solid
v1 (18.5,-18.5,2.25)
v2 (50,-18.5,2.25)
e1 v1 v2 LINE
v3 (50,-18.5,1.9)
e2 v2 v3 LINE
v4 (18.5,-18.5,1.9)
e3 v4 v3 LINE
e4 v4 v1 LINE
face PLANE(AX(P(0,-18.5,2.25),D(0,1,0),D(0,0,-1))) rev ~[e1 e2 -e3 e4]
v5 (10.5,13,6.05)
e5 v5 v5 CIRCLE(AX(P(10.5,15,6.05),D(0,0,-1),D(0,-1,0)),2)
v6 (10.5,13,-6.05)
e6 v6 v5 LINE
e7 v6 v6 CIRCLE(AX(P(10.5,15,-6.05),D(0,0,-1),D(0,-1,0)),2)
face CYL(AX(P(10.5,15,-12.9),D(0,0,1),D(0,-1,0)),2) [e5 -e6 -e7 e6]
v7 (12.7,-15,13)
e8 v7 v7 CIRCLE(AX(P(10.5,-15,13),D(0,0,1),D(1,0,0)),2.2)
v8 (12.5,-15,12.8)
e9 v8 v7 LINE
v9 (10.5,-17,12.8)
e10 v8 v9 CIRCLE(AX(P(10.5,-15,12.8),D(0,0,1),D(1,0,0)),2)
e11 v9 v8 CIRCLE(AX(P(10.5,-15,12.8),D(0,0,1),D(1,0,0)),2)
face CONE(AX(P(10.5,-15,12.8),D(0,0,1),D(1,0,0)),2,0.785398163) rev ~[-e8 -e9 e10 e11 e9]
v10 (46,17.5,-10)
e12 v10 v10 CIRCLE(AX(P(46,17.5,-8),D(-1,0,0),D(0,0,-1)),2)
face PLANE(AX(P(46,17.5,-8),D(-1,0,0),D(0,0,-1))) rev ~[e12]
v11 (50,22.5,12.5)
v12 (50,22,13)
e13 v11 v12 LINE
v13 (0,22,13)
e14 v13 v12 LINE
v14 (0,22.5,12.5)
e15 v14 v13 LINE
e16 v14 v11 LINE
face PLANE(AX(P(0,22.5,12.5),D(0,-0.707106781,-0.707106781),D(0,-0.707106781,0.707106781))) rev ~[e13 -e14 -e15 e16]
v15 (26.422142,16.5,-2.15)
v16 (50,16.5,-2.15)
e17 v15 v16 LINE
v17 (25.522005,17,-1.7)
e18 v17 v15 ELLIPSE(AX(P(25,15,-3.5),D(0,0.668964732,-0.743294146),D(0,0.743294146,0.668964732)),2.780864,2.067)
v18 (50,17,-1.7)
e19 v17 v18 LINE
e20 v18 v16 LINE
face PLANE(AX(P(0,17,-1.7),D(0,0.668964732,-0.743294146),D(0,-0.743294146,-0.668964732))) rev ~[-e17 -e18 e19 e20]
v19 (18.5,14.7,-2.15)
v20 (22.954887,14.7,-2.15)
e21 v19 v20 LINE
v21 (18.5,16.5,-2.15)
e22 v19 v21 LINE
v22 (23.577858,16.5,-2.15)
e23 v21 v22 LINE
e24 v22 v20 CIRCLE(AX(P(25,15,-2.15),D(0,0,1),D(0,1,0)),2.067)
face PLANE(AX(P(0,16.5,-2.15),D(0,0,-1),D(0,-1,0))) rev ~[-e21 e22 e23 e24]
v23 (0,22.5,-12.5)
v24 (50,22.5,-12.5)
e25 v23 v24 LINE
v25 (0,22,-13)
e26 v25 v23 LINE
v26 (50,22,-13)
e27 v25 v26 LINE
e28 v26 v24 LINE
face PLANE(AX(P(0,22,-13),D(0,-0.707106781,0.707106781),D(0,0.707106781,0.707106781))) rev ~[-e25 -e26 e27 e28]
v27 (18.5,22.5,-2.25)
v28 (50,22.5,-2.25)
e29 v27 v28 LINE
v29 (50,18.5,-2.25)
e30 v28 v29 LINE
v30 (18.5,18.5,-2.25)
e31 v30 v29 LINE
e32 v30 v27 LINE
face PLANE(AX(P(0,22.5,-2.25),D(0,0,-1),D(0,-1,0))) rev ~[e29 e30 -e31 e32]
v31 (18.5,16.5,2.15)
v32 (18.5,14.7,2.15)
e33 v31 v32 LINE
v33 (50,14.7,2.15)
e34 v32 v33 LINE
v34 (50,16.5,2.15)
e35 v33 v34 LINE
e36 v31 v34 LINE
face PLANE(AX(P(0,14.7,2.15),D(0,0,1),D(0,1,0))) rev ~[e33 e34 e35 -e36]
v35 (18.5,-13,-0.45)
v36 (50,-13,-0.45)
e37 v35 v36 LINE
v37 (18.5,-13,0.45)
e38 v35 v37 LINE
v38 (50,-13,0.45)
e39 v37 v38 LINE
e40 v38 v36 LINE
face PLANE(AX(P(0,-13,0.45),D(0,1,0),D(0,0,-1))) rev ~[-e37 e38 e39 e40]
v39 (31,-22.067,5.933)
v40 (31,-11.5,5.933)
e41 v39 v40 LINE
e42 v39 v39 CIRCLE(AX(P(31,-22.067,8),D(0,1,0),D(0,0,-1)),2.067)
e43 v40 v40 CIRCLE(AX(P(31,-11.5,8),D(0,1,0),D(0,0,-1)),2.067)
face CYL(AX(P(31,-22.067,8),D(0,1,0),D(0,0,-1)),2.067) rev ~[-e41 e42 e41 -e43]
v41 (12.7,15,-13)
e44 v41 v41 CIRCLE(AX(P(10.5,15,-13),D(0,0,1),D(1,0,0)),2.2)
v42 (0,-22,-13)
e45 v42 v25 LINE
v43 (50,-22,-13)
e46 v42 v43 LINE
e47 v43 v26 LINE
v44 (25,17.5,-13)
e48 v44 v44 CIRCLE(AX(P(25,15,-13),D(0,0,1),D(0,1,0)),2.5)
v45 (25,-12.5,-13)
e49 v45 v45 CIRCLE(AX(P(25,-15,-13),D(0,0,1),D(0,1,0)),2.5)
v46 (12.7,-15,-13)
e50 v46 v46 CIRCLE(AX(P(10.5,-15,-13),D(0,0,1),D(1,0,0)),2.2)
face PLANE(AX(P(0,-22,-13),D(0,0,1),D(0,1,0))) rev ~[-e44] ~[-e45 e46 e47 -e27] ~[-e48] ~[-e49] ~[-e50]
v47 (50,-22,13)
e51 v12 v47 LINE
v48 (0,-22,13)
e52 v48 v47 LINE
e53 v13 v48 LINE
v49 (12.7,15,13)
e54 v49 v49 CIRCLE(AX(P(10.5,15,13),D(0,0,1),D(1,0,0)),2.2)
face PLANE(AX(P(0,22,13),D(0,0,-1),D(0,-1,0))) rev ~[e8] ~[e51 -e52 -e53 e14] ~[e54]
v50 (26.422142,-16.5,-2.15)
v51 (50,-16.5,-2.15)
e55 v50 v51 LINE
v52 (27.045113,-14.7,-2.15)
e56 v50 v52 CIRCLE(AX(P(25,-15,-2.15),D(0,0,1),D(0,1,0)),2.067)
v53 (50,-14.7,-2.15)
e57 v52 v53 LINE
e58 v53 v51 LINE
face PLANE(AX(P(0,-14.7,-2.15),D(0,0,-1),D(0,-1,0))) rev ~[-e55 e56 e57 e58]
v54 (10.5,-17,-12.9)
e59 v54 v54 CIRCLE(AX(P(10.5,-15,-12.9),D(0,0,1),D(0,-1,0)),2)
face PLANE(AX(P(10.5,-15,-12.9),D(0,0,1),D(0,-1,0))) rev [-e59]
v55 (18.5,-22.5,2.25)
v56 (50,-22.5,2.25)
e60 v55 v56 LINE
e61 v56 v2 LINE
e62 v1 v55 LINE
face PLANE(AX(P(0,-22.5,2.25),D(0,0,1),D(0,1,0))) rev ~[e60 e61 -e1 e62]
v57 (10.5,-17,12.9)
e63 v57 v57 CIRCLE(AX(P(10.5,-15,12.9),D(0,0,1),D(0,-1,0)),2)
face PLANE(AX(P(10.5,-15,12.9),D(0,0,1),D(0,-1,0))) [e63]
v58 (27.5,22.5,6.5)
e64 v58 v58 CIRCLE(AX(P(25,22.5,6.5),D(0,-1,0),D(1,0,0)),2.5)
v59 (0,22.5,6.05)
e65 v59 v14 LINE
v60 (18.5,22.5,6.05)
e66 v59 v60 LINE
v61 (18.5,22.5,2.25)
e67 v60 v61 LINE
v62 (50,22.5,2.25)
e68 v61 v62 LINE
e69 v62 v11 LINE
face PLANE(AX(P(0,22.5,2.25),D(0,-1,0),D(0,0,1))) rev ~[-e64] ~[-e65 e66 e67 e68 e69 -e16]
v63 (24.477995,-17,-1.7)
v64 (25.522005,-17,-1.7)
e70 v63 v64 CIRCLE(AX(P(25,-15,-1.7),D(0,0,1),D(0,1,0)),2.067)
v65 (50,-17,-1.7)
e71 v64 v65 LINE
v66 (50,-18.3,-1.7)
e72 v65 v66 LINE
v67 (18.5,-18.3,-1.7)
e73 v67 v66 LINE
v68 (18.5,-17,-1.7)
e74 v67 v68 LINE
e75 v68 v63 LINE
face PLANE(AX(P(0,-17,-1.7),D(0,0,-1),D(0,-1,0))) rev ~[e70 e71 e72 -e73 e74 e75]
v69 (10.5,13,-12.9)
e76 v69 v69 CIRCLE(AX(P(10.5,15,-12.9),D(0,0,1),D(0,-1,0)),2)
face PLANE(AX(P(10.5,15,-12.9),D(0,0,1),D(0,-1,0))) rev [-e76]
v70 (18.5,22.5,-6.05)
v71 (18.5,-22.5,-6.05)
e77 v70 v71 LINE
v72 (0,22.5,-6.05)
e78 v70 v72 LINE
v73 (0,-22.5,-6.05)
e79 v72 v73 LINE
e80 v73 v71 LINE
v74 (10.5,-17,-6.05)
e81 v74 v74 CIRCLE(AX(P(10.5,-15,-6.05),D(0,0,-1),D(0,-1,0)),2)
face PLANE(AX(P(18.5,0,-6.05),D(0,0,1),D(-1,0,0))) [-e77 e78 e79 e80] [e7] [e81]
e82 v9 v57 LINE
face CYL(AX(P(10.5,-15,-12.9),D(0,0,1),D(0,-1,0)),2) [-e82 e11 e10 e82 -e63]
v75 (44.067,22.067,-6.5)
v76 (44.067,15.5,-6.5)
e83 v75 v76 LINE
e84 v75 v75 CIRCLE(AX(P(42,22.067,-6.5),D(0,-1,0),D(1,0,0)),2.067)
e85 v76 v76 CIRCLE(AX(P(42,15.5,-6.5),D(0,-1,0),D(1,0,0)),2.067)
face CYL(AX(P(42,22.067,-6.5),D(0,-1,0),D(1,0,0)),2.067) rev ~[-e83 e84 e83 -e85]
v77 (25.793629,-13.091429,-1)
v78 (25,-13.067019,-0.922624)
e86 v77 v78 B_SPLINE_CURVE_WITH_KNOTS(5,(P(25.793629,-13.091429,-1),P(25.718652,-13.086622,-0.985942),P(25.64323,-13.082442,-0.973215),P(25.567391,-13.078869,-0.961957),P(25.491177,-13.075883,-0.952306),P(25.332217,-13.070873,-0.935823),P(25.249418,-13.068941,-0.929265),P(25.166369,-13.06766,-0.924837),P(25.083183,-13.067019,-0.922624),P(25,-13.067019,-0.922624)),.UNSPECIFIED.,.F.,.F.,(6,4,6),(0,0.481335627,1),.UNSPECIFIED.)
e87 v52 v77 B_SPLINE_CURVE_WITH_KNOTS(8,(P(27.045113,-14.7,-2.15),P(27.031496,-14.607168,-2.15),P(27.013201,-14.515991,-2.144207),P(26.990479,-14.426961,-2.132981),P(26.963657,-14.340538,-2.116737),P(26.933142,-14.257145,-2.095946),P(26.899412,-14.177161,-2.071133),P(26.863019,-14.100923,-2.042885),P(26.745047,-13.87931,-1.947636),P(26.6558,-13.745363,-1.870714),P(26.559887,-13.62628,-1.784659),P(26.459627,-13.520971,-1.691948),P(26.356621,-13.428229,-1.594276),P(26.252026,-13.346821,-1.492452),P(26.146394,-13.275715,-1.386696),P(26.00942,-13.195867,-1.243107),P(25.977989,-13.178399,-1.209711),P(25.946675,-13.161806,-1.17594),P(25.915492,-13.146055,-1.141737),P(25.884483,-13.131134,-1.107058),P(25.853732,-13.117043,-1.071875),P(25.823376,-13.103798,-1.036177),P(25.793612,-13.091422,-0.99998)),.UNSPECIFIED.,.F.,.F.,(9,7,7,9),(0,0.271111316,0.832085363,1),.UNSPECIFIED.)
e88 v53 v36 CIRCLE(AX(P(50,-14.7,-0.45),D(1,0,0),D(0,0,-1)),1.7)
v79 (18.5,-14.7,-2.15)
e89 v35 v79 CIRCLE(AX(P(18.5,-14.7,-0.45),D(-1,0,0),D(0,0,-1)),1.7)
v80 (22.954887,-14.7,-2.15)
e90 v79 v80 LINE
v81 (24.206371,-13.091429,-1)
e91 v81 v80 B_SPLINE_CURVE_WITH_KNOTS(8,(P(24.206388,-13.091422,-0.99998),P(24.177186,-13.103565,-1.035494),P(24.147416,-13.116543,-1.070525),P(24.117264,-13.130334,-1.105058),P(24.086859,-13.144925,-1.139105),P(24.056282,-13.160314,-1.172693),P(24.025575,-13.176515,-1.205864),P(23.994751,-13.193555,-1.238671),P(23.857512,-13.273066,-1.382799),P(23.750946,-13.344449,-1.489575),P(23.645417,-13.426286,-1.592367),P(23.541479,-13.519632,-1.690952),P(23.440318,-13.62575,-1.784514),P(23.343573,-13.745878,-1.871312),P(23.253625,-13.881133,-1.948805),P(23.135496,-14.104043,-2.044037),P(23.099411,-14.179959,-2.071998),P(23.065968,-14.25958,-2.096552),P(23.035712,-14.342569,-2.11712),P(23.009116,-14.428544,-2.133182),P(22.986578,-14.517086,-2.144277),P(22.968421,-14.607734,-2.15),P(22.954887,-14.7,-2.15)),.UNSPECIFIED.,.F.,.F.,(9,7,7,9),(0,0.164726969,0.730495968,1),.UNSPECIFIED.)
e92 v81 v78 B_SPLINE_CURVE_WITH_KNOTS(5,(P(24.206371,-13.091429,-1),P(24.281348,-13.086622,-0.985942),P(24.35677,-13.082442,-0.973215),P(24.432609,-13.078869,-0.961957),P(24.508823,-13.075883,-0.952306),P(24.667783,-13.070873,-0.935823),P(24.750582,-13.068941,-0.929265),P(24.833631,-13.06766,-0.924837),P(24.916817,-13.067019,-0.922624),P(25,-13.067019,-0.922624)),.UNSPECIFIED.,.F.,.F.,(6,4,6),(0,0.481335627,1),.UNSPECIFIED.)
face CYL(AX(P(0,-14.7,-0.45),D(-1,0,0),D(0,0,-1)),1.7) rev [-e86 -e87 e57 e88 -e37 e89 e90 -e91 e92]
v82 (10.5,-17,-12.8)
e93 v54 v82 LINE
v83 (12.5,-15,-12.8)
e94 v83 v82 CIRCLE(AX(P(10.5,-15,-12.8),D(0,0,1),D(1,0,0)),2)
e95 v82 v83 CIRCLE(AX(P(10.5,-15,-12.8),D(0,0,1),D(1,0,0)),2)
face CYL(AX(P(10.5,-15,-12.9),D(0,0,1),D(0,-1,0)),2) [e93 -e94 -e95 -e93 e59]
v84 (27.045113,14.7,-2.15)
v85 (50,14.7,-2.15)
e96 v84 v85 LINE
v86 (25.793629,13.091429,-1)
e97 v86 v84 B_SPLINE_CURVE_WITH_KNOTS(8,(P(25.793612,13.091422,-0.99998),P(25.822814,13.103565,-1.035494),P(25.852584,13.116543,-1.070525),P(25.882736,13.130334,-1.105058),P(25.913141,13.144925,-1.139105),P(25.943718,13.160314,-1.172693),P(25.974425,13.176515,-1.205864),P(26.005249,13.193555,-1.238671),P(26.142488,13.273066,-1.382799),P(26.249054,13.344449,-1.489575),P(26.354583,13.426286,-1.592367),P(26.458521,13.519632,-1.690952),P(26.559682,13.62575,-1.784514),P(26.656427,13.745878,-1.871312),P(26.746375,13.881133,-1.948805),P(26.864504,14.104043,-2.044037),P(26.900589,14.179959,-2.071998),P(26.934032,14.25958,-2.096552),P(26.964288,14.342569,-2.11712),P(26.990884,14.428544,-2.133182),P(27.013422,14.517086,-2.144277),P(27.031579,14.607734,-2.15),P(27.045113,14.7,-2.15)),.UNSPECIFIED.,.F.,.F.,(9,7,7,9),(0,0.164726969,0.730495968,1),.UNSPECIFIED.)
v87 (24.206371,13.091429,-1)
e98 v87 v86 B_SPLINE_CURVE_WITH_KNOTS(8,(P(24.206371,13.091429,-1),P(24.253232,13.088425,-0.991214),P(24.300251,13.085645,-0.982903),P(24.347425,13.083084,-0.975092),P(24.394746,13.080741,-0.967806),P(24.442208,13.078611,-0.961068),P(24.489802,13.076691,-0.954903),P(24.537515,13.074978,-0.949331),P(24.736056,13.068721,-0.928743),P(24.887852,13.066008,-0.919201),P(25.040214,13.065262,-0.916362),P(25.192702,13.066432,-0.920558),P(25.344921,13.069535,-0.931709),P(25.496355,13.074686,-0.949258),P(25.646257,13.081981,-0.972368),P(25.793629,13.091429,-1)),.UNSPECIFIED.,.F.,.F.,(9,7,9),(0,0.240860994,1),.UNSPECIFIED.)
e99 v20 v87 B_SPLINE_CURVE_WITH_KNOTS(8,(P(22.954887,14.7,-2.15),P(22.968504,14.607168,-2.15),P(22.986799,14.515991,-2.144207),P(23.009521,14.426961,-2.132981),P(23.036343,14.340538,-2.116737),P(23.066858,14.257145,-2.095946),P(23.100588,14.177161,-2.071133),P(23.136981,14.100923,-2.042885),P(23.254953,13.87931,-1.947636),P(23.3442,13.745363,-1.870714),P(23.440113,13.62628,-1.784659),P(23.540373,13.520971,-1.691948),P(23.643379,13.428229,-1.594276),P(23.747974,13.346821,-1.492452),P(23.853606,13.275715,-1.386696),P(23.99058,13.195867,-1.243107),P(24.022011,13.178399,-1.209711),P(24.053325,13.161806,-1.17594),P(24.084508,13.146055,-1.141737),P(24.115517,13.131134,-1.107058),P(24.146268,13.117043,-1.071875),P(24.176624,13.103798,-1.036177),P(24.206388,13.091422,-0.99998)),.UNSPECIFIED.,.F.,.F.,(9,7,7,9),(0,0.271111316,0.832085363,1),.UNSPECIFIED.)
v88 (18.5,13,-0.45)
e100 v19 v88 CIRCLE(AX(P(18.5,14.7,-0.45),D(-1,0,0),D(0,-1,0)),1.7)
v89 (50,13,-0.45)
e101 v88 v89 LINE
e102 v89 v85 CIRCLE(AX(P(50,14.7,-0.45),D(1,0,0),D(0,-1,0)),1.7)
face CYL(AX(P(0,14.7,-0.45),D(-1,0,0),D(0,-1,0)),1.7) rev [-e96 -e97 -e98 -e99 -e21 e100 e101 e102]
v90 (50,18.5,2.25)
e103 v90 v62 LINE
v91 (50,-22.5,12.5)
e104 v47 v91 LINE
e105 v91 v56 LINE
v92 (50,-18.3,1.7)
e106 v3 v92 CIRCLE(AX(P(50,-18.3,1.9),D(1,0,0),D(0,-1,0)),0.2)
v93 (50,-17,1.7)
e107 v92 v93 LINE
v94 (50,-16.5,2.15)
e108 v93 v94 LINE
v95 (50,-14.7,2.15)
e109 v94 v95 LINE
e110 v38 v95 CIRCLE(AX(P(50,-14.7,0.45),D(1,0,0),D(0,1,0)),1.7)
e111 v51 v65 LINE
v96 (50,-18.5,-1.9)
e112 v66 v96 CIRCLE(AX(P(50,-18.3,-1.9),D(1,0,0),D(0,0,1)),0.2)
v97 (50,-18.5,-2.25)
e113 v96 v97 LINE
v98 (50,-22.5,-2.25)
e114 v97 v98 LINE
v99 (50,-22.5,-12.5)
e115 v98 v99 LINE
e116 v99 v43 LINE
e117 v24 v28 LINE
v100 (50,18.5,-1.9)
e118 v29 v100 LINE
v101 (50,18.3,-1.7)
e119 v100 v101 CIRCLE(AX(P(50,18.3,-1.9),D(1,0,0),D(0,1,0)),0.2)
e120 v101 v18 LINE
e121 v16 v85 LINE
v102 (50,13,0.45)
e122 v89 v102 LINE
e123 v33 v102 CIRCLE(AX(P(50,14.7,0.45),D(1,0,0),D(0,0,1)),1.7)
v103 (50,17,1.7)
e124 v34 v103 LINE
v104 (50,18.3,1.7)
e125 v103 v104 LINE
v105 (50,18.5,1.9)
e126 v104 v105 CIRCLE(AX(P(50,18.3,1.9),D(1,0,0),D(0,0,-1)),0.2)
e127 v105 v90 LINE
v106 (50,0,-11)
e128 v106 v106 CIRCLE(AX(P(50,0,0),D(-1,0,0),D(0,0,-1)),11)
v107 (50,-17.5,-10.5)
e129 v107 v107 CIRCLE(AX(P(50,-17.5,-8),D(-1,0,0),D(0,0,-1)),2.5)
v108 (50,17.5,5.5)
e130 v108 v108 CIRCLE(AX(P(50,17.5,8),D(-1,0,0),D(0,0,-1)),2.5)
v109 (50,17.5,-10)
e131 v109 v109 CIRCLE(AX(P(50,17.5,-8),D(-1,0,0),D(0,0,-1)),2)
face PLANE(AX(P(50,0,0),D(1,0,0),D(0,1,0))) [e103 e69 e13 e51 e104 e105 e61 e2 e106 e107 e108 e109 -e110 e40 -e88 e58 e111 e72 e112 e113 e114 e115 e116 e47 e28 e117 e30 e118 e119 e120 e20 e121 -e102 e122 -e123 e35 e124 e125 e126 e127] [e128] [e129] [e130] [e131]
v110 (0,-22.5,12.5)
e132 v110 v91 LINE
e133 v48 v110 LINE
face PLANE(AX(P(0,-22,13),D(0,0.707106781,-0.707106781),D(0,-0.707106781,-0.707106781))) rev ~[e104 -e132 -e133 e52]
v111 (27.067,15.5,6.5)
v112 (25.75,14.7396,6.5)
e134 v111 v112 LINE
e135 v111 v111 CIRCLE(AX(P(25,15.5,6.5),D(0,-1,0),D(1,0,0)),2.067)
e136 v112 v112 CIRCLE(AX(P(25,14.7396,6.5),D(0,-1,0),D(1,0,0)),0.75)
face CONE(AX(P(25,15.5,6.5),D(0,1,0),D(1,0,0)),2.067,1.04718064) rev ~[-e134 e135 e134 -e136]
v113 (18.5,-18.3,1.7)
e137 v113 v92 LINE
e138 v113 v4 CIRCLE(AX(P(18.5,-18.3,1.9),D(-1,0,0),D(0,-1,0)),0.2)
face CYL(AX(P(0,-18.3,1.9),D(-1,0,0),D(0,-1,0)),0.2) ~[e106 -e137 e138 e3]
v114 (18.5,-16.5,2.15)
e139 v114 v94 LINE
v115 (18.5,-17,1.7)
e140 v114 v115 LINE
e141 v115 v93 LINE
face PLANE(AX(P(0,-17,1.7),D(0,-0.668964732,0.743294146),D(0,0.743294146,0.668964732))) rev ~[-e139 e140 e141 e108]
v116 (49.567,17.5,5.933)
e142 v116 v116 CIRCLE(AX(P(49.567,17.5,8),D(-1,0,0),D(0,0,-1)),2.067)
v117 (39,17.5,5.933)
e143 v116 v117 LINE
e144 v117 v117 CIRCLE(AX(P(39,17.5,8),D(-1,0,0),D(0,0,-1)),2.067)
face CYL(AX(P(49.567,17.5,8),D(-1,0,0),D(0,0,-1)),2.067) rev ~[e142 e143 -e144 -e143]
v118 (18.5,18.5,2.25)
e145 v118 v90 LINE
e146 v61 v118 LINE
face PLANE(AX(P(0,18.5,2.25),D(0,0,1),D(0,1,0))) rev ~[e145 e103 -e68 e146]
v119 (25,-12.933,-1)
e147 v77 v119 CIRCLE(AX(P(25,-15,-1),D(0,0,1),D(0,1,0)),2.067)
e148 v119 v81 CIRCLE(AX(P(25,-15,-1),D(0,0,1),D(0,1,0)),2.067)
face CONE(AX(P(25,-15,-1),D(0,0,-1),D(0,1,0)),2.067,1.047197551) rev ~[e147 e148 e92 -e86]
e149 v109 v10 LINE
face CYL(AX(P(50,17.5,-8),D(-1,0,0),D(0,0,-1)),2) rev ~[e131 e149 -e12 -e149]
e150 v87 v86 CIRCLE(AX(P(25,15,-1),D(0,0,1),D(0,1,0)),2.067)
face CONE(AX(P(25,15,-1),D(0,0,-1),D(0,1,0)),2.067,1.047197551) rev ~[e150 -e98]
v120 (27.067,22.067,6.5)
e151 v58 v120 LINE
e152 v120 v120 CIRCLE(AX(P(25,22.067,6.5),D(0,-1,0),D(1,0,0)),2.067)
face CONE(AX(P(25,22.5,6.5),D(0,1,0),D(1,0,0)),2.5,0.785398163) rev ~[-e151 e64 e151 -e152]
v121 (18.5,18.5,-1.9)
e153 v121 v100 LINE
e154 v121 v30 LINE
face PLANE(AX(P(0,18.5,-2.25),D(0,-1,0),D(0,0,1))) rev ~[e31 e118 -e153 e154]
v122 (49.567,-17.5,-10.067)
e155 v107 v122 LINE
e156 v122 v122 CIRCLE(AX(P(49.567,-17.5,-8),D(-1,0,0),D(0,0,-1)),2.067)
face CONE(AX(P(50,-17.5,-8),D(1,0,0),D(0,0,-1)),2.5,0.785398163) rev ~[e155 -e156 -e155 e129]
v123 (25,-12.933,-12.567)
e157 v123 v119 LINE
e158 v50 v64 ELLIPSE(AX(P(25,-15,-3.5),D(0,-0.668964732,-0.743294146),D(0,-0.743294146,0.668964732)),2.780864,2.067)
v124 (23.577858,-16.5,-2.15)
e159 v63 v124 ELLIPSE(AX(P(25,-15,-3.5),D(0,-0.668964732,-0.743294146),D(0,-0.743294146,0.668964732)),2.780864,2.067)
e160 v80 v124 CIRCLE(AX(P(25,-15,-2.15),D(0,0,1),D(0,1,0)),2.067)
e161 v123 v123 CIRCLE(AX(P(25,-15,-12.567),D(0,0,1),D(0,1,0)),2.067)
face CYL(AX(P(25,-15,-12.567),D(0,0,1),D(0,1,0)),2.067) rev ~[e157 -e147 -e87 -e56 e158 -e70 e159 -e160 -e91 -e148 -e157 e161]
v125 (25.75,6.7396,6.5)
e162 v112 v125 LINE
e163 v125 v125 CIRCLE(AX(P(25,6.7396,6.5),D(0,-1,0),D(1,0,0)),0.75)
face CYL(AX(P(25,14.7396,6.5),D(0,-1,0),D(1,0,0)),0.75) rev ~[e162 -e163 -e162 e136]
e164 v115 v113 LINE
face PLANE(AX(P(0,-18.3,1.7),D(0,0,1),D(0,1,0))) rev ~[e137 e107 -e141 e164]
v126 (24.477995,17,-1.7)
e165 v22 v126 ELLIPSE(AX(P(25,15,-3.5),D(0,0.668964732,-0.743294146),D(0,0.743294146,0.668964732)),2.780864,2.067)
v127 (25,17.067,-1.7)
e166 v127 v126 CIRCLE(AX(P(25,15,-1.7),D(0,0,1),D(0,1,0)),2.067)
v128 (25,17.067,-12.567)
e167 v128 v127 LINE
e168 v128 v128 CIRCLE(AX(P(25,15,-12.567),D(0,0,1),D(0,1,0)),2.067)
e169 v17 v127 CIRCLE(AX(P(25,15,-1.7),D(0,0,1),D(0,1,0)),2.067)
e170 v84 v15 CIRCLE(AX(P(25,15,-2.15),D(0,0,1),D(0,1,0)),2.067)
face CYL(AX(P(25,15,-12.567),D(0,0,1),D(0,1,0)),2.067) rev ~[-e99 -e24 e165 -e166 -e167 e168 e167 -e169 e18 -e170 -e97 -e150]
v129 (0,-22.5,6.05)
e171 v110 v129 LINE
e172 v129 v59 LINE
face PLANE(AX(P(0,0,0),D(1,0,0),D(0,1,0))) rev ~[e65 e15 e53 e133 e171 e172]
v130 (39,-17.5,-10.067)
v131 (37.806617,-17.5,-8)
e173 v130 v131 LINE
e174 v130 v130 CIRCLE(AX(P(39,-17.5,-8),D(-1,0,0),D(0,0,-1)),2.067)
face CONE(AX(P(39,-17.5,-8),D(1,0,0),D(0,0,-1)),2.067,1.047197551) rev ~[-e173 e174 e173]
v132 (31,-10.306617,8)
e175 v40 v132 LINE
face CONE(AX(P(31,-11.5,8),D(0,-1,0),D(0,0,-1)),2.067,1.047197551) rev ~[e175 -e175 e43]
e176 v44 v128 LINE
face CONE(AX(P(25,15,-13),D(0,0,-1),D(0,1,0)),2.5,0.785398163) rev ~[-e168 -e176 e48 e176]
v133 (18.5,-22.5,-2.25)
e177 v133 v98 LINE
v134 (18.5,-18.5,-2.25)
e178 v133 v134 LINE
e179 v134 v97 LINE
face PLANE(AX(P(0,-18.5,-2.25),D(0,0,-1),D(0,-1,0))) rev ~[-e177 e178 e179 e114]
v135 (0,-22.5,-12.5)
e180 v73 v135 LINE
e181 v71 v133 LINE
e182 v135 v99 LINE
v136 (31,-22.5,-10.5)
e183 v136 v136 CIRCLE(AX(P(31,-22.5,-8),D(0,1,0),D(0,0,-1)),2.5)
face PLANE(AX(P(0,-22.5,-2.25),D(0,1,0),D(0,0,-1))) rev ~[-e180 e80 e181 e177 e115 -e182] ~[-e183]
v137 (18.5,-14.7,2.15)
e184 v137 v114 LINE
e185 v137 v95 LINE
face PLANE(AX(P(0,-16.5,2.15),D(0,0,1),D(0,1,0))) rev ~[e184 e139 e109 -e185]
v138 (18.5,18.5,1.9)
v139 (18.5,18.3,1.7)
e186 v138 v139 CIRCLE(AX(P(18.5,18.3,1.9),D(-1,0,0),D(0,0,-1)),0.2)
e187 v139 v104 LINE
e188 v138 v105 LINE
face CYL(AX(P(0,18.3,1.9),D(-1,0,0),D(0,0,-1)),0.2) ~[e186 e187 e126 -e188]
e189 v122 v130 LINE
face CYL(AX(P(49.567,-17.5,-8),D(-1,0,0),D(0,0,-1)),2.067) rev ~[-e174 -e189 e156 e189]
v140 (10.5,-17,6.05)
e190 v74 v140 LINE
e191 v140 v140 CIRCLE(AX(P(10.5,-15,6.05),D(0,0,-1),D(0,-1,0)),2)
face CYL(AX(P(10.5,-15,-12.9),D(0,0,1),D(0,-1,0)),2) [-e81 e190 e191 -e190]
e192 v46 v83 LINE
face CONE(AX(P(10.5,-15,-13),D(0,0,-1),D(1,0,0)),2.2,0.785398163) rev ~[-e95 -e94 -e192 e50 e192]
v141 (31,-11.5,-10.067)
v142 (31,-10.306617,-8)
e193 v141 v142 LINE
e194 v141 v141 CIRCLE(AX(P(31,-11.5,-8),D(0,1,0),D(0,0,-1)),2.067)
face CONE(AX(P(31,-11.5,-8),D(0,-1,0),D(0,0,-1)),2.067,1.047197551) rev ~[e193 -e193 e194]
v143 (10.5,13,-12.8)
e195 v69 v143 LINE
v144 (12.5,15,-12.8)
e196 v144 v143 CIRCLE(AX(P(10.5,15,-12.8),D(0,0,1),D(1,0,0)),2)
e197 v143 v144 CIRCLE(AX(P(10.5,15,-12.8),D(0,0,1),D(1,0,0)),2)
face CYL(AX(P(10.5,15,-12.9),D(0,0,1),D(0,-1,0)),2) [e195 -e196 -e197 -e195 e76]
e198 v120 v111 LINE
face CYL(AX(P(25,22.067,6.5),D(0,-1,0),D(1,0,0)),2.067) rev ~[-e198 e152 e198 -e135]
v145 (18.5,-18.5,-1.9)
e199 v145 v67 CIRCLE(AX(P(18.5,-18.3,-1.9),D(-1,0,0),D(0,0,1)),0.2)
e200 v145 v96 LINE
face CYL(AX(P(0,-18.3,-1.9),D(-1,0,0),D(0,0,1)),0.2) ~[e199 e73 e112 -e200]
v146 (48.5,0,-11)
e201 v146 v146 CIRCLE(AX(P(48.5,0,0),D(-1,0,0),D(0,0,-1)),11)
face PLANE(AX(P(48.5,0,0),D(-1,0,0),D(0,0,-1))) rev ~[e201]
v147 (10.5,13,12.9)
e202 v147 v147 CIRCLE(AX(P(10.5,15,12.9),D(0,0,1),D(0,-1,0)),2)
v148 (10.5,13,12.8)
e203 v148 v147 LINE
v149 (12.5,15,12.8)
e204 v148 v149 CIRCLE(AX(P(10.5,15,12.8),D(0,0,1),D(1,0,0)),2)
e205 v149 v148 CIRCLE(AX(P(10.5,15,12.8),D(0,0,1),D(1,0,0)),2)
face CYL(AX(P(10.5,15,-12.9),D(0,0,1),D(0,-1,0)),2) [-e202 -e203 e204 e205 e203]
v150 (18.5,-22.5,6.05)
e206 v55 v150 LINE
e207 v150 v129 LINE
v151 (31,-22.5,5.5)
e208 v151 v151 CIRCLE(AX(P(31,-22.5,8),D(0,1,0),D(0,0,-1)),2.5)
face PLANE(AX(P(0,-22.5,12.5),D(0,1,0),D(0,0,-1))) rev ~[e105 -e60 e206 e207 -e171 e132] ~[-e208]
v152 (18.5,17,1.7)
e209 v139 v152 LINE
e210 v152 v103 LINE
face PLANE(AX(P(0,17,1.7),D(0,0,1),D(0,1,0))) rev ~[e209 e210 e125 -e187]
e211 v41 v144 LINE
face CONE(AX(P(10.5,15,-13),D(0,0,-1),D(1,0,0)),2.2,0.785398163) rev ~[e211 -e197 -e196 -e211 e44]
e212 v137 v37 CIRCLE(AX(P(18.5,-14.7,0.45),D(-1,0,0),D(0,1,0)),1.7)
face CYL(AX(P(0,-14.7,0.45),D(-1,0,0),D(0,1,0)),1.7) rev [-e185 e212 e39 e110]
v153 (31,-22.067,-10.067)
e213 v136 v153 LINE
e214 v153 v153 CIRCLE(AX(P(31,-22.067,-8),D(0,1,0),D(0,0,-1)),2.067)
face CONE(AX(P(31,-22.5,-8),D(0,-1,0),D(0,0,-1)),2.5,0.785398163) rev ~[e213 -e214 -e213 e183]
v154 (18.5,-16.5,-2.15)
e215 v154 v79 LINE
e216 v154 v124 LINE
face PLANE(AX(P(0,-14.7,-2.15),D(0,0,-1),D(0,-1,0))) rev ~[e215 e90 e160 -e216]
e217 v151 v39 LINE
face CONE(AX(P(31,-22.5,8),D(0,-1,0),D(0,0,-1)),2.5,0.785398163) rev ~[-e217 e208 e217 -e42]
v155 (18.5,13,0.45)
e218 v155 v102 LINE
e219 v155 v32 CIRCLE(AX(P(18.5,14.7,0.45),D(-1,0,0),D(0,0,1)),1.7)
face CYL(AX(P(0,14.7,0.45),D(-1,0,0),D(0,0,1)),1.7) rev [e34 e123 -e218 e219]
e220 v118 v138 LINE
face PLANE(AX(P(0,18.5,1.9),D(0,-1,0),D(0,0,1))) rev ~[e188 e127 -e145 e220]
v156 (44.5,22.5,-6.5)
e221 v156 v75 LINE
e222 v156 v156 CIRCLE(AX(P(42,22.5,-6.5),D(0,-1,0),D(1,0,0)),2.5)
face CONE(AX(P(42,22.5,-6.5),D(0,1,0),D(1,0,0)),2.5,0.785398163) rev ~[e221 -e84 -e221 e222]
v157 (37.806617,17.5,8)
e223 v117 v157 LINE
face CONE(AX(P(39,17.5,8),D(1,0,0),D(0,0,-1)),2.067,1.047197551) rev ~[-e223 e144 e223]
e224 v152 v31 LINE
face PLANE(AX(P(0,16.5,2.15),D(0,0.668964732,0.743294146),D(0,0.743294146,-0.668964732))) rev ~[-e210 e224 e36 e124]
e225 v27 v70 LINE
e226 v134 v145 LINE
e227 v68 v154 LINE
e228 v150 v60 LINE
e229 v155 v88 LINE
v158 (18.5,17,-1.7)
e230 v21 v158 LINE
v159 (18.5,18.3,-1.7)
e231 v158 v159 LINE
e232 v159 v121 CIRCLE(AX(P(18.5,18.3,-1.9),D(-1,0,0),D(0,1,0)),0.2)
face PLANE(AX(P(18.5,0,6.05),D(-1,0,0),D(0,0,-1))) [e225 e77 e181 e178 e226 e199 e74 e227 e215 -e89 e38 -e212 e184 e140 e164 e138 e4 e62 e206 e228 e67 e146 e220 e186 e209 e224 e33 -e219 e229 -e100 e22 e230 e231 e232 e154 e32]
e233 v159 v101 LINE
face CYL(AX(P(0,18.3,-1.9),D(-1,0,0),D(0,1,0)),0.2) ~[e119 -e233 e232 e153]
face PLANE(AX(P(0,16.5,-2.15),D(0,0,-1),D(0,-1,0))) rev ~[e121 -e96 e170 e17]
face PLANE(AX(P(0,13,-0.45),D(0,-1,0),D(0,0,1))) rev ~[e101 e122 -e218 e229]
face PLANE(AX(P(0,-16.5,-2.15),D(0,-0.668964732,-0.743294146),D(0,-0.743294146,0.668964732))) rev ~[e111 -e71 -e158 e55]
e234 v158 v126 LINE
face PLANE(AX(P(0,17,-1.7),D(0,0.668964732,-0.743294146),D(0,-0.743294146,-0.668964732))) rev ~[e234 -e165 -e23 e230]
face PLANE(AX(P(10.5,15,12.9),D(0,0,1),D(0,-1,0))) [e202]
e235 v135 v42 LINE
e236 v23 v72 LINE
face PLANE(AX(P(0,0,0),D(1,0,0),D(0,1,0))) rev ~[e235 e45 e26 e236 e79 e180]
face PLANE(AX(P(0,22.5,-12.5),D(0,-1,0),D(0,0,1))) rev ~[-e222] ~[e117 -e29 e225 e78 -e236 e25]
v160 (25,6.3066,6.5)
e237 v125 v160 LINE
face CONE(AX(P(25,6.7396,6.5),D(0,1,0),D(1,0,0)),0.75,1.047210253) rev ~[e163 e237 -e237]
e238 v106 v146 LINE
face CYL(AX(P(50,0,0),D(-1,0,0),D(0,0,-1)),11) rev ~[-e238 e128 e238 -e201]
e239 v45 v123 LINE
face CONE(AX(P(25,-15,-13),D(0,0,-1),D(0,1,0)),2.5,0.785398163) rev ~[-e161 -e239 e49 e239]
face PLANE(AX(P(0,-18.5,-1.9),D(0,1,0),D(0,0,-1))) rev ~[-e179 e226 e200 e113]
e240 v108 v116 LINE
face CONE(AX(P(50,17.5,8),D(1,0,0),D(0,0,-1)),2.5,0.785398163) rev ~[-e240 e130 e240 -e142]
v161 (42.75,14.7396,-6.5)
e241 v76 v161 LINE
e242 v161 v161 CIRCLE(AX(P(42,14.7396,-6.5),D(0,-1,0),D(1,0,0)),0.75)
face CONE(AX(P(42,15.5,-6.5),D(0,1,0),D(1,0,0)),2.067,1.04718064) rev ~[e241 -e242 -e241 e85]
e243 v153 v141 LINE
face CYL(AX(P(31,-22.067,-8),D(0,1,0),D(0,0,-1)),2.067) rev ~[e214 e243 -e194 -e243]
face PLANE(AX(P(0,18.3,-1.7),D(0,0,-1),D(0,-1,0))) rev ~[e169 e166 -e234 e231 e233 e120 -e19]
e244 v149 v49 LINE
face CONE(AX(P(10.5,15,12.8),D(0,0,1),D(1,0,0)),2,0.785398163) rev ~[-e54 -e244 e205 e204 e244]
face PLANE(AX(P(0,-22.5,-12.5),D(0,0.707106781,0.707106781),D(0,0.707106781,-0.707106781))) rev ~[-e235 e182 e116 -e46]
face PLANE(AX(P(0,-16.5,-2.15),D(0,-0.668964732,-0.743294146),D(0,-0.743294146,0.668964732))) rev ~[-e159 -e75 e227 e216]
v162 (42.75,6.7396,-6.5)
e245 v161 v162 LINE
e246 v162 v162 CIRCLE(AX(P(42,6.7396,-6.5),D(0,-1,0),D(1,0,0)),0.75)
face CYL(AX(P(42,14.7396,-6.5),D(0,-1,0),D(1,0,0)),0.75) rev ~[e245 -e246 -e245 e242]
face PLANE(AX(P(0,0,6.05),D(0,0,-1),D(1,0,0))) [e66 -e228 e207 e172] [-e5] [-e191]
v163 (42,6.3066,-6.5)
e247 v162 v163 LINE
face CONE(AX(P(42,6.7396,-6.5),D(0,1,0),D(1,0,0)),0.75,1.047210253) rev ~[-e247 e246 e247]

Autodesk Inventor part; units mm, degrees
sketch "Sketch_1" plane through (0, 0, 0) normal (1, 0, 0) x (0, 1, 0)
  line L0 (-22, 13) -> (-22.5, 12.5)
  line L1 (-22.5, 12.5) -> (-22.5, 2.25)
  line L2 (-22.5, 2.25) -> (-18.5, 2.25)
  line L3 (-18.5, 2.25) -> (-18.5, 1.9)
  arc A0 (-18.5, 1.9) -> (-18.3, 1.7) centre (-18.3, 1.9) ccw
  line L4 (-18.3, 1.7) -> (-17, 1.7)
  line L5 (-17, 1.7) -> (-16.5, 2.15)
  line L6 (-16.5, 2.15) -> (-14.7, 2.15)
  arc A1 (-13, 0.45) -> (-14.7, 2.15) centre (-14.7, 0.45) ccw
  line L7 (-13, 0.45) -> (-13, -0.45)
  arc A2 (-14.7, -2.15) -> (-13, -0.45) centre (-14.7, -0.45) ccw
  line L8 (-14.7, -2.15) -> (-16.5, -2.15)
  line L9 (-16.5, -2.15) -> (-17, -1.7)
  line L10 (-17, -1.7) -> (-18.3, -1.7)
  arc A3 (-18.3, -1.7) -> (-18.5, -1.9) centre (-18.3, -1.9) ccw
  line L11 (-18.5, -1.9) -> (-18.5, -2.25)
  line L12 (-18.5, -2.25) -> (-22.5, -2.25)
  line L13 (-22.5, -2.25) -> (-22.5, -12.5)
  line L14 (-22.5, -12.5) -> (-22, -13)
  line L15 (-22, -13) -> (22, -13)
  line L16 (22, -13) -> (22.5, -12.5)
  line L17 (22.5, -12.5) -> (22.5, -2.25)
  line L18 (22.5, -2.25) -> (18.5, -2.25)
  line L19 (18.5, -2.25) -> (18.5, -1.9)
  arc A4 (18.5, -1.9) -> (18.3, -1.7) centre (18.3, -1.9) ccw
  line L20 (18.3, -1.7) -> (17, -1.7)
  line L21 (17, -1.7) -> (16.5, -2.15)
  line L22 (16.5, -2.15) -> (14.7, -2.15)
  arc A5 (13, -0.45) -> (14.7, -2.15) centre (14.7, -0.45) ccw
  line L23 (13, -0.45) -> (13, 0.45)
  arc A6 (14.7, 2.15) -> (13, 0.45) centre (14.7, 0.45) ccw
  line L24 (14.7, 2.15) -> (16.5, 2.15)
  line L25 (16.5, 2.15) -> (17, 1.7)
  line L26 (17, 1.7) -> (18.3, 1.7)
  arc A7 (18.3, 1.7) -> (18.5, 1.9) centre (18.3, 1.9) ccw
  line L27 (18.5, 1.9) -> (18.5, 2.25)
  line L28 (18.5, 2.25) -> (22.5, 2.25)
  line L29 (22.5, 2.25) -> (22.5, 12.5)
  line L30 (22.5, 12.5) -> (22, 13)
  line L31 (22, 13) -> (-22, 13)
extrude "Extrusion1" add sketch "Sketch_1" along normal blind 50
sketch "Sketch2" plane through (50, 0, 0) normal (1, 0, 0) x (0, 0, -1)
  point P0 (0, 0)
hole "Hole1" at (50, 0, 0) direction (-1, 0, 0) diameter 22 depth 1.5
sketch "Sketch3" plane through (50, 0, 0) normal (1, 0, 0) x (0, 0, -1)
  point P0 (8, 17.5)
hole "Hole2" at (50, 17.5, -8) direction (-1, 0, 0) diameter 4 depth 4
sketch "Sketch_3" plane through (0, 0, 0) normal (0, 1, 0) x (-1, 0, 0)
  line L0 (0, 6.05) -> (-18.5, 6.05)
  line L1 (-18.5, 6.05) -> (-18.5, -6.05)
  line L2 (-18.5, -6.05) -> (0, -6.05)
  line L3 (0, -6.05) -> (0, 6.05)
extrude "Extrusion2" cut sketch "Sketch_3" along normal mid plane 60
sketch "Sketch5" plane through (50, 0, 0) normal (1, 0, 0) x (0, 0, -1)
  point P0 (8, -17.5)
hole "Hole3" at (50, -17.5, -8) direction (-1, 0, 0) diameter 4.134 depth 11 tip angle 120 countersink diameter 5 countersink angle 90 thread size "M5x0.8" class "6H" standard "ISO Metric profile"
sketch "Sketch6" plane through (50, 0, 0) normal (1, 0, 0) x (0, 0, -1)
  point P0 (-8, 17.5)
hole "Hole4" at (50, 17.5, 8) direction (-1, 0, 0) diameter 4.134 depth 11 tip angle 120 countersink diameter 5 countersink angle 90 thread size "M5x0.8" class "6H" standard "ISO Metric profile"
sketch "Sketch_6" plane through (0, 0, 6.5) normal (0, 0, 1) x (1, 0, 0)
  line L0 (25, 6.3066) -> (25, 22.5)
  line L1 (25, 22.5) -> (27.5, 22.5)
  line L2 (27.5, 22.5) -> (27.067, 22.067)
  line L3 (27.067, 22.067) -> (27.067, 15.5)
  line L4 (27.067, 15.5) -> (25.75, 14.7396)
  line L5 (25.75, 14.7396) -> (25.75, 6.7396)
  line L6 (25.75, 6.7396) -> (25, 6.3066)
  line L7 (25, 6.3066) -> (25, 22.5)
revolve "Revolution1" cut sketch "Sketch_6" angle 360 about axis through (25, 6.3066, 6.5) along (0, -1, 0)
thread "Thread1" size "M5x0.8" class "6H" standard "ISO Metric profile" length 4.567
sketch "Sketch_7" plane through (0, 0, -6.5) normal (0, 0, 1) x (1, 0, 0)
  line L0 (42, 6.3066) -> (42, 22.5)
  line L1 (42, 22.5) -> (44.5, 22.5)
  line L2 (44.5, 22.5) -> (44.067, 22.067)
  line L3 (44.067, 22.067) -> (44.067, 15.5)
  line L4 (44.067, 15.5) -> (42.75, 14.7396)
  line L5 (42.75, 14.7396) -> (42.75, 6.7396)
  line L6 (42.75, 6.7396) -> (42, 6.3066)
  line L7 (42, 6.3066) -> (42, 22.5)
revolve "Revolution2" cut sketch "Sketch_7" angle 360 about axis through (42, 6.3066, -6.5) along (0, -1, 0)
thread "Thread2" size "M5x0.8" class "6H" standard "ISO Metric profile" length 4.567
sketch "Sketch9" plane through (0, -22.5, 12.5) normal (0, -1, 0) x (1, 0, 0)
  point P0 (31, -4.5)
hole "Hole5" at (31, -22.5, 8) direction (0, 1, 0) diameter 4.134 depth 11 tip angle 120 countersink diameter 5 countersink angle 90 thread size "M5x0.8" class "6H" standard "ISO Metric profile"
sketch "Sketch10" plane through (0, -22.5, -12.5) normal (0, -1, 0) x (1, 0, 0)
  point P0 (31, 4.5)
hole "Hole6" at (31, -22.5, -8) direction (0, 1, 0) diameter 4.134 depth 11 tip angle 120 countersink diameter 5 countersink angle 90 thread size "M5x0.8" class "6H" standard "ISO Metric profile"
sketch "Sketch11" plane through (0, -22, -13) normal (0, 0, -1) x (-1, 0, 0)
  point P0 (-25, 7)
hole "Hole7" at (25, -15, -13) direction (0, 0, 1) diameter 4.134 depth 12 tip angle 120 countersink diameter 5 countersink angle 90 thread size "M5x0.8" class "6H" standard "ISO Metric profile"
sketch "Sketch12" plane through (0, -22, -13) normal (0, 0, -1) x (-1, 0, 0)
  point P0 (-25, 37)
hole "Hole8" at (25, 15, -13) direction (0, 0, 1) diameter 4.134 depth 12 tip angle 120 countersink diameter 5 countersink angle 90 thread size "M5x0.8" class "6H" standard "ISO Metric profile"
sketch "Sketch_14" plane through (0, 15, 0) normal (0, 1, 0) x (1, 0, 0)
  line L0 (10.5, -13) -> (10.5, 13)
  line L1 (10.5, 13) -> (12.7, 13)
  line L2 (12.7, 13) -> (12.5, 12.8)
  line L3 (12.5, 12.8) -> (12.5, -12.8)
  line L4 (12.5, -12.8) -> (12.7, -13)
  line L5 (12.7, -13) -> (10.5, -13)
  line L6 (10.5, -13) -> (10.5, 13)
revolve "Revolution3" cut sketch "Sketch_14" angle 360 about axis through (10.5, 15, 13) along (0, 0, 1)
sketch "Sketch_15" plane through (0, -15, 0) normal (0, 1, 0) x (1, 0, 0)
  line L0 (10.5, -13) -> (10.5, 13)
  line L1 (10.5, 13) -> (12.7, 13)
  line L2 (12.7, 13) -> (12.5, 12.8)
  line L3 (12.5, 12.8) -> (12.5, -12.8)
  line L4 (12.5, -12.8) -> (12.7, -13)
  line L5 (12.7, -13) -> (10.5, -13)
  line L6 (10.5, -13) -> (10.5, 13)
revolve "Revolution4" cut sketch "Sketch_15" angle 360 about axis through (10.5, -15, 13) along (0, 0, 1)
sketch "Sketch_20" plane through (10.5, 0, 0) normal (1, 0, 0) x (0, 0, -1)
  line L0 (-12.9, 15) -> (12.9, 15)
  line L1 (12.9, 15) -> (12.9, 13)
  line L2 (12.9, 13) -> (-12.9, 13)
  line L3 (-12.9, 13) -> (-12.9, 15)
  line L4 (-12.9, 15) -> (12.9, 15)
revolve "Revolution5" add sketch "Sketch_20" angle 360 about axis through (10.5, 15, 12.9) along (0, 0, 1)
sketch "Sketch_21" plane through (10.5, 0, 0) normal (1, 0, 0) x (0, 0, -1)
  line L0 (-12.9, -15) -> (12.9, -15)
  line L1 (12.9, -15) -> (12.9, -17)
  line L2 (12.9, -17) -> (-12.9, -17)
  line L3 (-12.9, -17) -> (-12.9, -15)
  line L4 (-12.9, -15) -> (12.9, -15)
revolve "Revolution6" add sketch "Sketch_21" angle 360 about axis through (10.5, -15, 12.9) along (0, 0, 1)
ref_plane "dummy_XY" through (0, 0, 0) normal (1, 0, 0) x (0, 0, -1)
ref_plane "dummy_YZ" through (0, 0, 0) normal (0, 0, -1) x (0, 1, 0)
ref_plane "dummy_ZX" through (0, 0, 0) normal (0, 1, 0) x (1, 0, 0)
ref_plane "grip_XY" through (10.5, 15, 0) normal (0, 0, 1) x (1, 0, 0)
ref_plane "grip_YZ" through (10.5, 15, 0) normal (1, 0, 0) x (0, 1, 0)
ref_plane "grip_ZX" through (10.5, 15, 0) normal (0, 1, 0) x (0, 0, 1)
ref_plane "grip1_XY" through (10.5, -15, 0) normal (0, 0, 1) x (1, 0, 0)
ref_plane "grip1_YZ" through (10.5, -15, 0) normal (1, 0, 0) x (0, 1, 0)
ref_plane "grip1_ZX" through (10.5, -15, 0) normal (0, 1, 0) x (0, 0, 1)
ref_plane "switch_XY" through (20.8, 13, 0) normal (-1, 0, 0) x (0, 0, -1)
ref_plane "switch_YZ" through (20.8, 13, 0) normal (0, 0, -1) x (0, -1, 0)
ref_plane "switch_ZX" through (20.8, 13, 0) normal (0, -1, 0) x (-1, 0, 0)
ref_plane "switch2_XY" through (26.1, -13, 0) normal (-1, 0, 0) x (0, 0, -1)
ref_plane "switch2_YZ" through (26.1, -13, 0) normal (0, 0, -1) x (0, -1, 0)
ref_plane "switch2_ZX" through (26.1, -13, 0) normal (0, -1, 0) x (-1, 0, 0)
properties part number "MCHA-20_(b)"
